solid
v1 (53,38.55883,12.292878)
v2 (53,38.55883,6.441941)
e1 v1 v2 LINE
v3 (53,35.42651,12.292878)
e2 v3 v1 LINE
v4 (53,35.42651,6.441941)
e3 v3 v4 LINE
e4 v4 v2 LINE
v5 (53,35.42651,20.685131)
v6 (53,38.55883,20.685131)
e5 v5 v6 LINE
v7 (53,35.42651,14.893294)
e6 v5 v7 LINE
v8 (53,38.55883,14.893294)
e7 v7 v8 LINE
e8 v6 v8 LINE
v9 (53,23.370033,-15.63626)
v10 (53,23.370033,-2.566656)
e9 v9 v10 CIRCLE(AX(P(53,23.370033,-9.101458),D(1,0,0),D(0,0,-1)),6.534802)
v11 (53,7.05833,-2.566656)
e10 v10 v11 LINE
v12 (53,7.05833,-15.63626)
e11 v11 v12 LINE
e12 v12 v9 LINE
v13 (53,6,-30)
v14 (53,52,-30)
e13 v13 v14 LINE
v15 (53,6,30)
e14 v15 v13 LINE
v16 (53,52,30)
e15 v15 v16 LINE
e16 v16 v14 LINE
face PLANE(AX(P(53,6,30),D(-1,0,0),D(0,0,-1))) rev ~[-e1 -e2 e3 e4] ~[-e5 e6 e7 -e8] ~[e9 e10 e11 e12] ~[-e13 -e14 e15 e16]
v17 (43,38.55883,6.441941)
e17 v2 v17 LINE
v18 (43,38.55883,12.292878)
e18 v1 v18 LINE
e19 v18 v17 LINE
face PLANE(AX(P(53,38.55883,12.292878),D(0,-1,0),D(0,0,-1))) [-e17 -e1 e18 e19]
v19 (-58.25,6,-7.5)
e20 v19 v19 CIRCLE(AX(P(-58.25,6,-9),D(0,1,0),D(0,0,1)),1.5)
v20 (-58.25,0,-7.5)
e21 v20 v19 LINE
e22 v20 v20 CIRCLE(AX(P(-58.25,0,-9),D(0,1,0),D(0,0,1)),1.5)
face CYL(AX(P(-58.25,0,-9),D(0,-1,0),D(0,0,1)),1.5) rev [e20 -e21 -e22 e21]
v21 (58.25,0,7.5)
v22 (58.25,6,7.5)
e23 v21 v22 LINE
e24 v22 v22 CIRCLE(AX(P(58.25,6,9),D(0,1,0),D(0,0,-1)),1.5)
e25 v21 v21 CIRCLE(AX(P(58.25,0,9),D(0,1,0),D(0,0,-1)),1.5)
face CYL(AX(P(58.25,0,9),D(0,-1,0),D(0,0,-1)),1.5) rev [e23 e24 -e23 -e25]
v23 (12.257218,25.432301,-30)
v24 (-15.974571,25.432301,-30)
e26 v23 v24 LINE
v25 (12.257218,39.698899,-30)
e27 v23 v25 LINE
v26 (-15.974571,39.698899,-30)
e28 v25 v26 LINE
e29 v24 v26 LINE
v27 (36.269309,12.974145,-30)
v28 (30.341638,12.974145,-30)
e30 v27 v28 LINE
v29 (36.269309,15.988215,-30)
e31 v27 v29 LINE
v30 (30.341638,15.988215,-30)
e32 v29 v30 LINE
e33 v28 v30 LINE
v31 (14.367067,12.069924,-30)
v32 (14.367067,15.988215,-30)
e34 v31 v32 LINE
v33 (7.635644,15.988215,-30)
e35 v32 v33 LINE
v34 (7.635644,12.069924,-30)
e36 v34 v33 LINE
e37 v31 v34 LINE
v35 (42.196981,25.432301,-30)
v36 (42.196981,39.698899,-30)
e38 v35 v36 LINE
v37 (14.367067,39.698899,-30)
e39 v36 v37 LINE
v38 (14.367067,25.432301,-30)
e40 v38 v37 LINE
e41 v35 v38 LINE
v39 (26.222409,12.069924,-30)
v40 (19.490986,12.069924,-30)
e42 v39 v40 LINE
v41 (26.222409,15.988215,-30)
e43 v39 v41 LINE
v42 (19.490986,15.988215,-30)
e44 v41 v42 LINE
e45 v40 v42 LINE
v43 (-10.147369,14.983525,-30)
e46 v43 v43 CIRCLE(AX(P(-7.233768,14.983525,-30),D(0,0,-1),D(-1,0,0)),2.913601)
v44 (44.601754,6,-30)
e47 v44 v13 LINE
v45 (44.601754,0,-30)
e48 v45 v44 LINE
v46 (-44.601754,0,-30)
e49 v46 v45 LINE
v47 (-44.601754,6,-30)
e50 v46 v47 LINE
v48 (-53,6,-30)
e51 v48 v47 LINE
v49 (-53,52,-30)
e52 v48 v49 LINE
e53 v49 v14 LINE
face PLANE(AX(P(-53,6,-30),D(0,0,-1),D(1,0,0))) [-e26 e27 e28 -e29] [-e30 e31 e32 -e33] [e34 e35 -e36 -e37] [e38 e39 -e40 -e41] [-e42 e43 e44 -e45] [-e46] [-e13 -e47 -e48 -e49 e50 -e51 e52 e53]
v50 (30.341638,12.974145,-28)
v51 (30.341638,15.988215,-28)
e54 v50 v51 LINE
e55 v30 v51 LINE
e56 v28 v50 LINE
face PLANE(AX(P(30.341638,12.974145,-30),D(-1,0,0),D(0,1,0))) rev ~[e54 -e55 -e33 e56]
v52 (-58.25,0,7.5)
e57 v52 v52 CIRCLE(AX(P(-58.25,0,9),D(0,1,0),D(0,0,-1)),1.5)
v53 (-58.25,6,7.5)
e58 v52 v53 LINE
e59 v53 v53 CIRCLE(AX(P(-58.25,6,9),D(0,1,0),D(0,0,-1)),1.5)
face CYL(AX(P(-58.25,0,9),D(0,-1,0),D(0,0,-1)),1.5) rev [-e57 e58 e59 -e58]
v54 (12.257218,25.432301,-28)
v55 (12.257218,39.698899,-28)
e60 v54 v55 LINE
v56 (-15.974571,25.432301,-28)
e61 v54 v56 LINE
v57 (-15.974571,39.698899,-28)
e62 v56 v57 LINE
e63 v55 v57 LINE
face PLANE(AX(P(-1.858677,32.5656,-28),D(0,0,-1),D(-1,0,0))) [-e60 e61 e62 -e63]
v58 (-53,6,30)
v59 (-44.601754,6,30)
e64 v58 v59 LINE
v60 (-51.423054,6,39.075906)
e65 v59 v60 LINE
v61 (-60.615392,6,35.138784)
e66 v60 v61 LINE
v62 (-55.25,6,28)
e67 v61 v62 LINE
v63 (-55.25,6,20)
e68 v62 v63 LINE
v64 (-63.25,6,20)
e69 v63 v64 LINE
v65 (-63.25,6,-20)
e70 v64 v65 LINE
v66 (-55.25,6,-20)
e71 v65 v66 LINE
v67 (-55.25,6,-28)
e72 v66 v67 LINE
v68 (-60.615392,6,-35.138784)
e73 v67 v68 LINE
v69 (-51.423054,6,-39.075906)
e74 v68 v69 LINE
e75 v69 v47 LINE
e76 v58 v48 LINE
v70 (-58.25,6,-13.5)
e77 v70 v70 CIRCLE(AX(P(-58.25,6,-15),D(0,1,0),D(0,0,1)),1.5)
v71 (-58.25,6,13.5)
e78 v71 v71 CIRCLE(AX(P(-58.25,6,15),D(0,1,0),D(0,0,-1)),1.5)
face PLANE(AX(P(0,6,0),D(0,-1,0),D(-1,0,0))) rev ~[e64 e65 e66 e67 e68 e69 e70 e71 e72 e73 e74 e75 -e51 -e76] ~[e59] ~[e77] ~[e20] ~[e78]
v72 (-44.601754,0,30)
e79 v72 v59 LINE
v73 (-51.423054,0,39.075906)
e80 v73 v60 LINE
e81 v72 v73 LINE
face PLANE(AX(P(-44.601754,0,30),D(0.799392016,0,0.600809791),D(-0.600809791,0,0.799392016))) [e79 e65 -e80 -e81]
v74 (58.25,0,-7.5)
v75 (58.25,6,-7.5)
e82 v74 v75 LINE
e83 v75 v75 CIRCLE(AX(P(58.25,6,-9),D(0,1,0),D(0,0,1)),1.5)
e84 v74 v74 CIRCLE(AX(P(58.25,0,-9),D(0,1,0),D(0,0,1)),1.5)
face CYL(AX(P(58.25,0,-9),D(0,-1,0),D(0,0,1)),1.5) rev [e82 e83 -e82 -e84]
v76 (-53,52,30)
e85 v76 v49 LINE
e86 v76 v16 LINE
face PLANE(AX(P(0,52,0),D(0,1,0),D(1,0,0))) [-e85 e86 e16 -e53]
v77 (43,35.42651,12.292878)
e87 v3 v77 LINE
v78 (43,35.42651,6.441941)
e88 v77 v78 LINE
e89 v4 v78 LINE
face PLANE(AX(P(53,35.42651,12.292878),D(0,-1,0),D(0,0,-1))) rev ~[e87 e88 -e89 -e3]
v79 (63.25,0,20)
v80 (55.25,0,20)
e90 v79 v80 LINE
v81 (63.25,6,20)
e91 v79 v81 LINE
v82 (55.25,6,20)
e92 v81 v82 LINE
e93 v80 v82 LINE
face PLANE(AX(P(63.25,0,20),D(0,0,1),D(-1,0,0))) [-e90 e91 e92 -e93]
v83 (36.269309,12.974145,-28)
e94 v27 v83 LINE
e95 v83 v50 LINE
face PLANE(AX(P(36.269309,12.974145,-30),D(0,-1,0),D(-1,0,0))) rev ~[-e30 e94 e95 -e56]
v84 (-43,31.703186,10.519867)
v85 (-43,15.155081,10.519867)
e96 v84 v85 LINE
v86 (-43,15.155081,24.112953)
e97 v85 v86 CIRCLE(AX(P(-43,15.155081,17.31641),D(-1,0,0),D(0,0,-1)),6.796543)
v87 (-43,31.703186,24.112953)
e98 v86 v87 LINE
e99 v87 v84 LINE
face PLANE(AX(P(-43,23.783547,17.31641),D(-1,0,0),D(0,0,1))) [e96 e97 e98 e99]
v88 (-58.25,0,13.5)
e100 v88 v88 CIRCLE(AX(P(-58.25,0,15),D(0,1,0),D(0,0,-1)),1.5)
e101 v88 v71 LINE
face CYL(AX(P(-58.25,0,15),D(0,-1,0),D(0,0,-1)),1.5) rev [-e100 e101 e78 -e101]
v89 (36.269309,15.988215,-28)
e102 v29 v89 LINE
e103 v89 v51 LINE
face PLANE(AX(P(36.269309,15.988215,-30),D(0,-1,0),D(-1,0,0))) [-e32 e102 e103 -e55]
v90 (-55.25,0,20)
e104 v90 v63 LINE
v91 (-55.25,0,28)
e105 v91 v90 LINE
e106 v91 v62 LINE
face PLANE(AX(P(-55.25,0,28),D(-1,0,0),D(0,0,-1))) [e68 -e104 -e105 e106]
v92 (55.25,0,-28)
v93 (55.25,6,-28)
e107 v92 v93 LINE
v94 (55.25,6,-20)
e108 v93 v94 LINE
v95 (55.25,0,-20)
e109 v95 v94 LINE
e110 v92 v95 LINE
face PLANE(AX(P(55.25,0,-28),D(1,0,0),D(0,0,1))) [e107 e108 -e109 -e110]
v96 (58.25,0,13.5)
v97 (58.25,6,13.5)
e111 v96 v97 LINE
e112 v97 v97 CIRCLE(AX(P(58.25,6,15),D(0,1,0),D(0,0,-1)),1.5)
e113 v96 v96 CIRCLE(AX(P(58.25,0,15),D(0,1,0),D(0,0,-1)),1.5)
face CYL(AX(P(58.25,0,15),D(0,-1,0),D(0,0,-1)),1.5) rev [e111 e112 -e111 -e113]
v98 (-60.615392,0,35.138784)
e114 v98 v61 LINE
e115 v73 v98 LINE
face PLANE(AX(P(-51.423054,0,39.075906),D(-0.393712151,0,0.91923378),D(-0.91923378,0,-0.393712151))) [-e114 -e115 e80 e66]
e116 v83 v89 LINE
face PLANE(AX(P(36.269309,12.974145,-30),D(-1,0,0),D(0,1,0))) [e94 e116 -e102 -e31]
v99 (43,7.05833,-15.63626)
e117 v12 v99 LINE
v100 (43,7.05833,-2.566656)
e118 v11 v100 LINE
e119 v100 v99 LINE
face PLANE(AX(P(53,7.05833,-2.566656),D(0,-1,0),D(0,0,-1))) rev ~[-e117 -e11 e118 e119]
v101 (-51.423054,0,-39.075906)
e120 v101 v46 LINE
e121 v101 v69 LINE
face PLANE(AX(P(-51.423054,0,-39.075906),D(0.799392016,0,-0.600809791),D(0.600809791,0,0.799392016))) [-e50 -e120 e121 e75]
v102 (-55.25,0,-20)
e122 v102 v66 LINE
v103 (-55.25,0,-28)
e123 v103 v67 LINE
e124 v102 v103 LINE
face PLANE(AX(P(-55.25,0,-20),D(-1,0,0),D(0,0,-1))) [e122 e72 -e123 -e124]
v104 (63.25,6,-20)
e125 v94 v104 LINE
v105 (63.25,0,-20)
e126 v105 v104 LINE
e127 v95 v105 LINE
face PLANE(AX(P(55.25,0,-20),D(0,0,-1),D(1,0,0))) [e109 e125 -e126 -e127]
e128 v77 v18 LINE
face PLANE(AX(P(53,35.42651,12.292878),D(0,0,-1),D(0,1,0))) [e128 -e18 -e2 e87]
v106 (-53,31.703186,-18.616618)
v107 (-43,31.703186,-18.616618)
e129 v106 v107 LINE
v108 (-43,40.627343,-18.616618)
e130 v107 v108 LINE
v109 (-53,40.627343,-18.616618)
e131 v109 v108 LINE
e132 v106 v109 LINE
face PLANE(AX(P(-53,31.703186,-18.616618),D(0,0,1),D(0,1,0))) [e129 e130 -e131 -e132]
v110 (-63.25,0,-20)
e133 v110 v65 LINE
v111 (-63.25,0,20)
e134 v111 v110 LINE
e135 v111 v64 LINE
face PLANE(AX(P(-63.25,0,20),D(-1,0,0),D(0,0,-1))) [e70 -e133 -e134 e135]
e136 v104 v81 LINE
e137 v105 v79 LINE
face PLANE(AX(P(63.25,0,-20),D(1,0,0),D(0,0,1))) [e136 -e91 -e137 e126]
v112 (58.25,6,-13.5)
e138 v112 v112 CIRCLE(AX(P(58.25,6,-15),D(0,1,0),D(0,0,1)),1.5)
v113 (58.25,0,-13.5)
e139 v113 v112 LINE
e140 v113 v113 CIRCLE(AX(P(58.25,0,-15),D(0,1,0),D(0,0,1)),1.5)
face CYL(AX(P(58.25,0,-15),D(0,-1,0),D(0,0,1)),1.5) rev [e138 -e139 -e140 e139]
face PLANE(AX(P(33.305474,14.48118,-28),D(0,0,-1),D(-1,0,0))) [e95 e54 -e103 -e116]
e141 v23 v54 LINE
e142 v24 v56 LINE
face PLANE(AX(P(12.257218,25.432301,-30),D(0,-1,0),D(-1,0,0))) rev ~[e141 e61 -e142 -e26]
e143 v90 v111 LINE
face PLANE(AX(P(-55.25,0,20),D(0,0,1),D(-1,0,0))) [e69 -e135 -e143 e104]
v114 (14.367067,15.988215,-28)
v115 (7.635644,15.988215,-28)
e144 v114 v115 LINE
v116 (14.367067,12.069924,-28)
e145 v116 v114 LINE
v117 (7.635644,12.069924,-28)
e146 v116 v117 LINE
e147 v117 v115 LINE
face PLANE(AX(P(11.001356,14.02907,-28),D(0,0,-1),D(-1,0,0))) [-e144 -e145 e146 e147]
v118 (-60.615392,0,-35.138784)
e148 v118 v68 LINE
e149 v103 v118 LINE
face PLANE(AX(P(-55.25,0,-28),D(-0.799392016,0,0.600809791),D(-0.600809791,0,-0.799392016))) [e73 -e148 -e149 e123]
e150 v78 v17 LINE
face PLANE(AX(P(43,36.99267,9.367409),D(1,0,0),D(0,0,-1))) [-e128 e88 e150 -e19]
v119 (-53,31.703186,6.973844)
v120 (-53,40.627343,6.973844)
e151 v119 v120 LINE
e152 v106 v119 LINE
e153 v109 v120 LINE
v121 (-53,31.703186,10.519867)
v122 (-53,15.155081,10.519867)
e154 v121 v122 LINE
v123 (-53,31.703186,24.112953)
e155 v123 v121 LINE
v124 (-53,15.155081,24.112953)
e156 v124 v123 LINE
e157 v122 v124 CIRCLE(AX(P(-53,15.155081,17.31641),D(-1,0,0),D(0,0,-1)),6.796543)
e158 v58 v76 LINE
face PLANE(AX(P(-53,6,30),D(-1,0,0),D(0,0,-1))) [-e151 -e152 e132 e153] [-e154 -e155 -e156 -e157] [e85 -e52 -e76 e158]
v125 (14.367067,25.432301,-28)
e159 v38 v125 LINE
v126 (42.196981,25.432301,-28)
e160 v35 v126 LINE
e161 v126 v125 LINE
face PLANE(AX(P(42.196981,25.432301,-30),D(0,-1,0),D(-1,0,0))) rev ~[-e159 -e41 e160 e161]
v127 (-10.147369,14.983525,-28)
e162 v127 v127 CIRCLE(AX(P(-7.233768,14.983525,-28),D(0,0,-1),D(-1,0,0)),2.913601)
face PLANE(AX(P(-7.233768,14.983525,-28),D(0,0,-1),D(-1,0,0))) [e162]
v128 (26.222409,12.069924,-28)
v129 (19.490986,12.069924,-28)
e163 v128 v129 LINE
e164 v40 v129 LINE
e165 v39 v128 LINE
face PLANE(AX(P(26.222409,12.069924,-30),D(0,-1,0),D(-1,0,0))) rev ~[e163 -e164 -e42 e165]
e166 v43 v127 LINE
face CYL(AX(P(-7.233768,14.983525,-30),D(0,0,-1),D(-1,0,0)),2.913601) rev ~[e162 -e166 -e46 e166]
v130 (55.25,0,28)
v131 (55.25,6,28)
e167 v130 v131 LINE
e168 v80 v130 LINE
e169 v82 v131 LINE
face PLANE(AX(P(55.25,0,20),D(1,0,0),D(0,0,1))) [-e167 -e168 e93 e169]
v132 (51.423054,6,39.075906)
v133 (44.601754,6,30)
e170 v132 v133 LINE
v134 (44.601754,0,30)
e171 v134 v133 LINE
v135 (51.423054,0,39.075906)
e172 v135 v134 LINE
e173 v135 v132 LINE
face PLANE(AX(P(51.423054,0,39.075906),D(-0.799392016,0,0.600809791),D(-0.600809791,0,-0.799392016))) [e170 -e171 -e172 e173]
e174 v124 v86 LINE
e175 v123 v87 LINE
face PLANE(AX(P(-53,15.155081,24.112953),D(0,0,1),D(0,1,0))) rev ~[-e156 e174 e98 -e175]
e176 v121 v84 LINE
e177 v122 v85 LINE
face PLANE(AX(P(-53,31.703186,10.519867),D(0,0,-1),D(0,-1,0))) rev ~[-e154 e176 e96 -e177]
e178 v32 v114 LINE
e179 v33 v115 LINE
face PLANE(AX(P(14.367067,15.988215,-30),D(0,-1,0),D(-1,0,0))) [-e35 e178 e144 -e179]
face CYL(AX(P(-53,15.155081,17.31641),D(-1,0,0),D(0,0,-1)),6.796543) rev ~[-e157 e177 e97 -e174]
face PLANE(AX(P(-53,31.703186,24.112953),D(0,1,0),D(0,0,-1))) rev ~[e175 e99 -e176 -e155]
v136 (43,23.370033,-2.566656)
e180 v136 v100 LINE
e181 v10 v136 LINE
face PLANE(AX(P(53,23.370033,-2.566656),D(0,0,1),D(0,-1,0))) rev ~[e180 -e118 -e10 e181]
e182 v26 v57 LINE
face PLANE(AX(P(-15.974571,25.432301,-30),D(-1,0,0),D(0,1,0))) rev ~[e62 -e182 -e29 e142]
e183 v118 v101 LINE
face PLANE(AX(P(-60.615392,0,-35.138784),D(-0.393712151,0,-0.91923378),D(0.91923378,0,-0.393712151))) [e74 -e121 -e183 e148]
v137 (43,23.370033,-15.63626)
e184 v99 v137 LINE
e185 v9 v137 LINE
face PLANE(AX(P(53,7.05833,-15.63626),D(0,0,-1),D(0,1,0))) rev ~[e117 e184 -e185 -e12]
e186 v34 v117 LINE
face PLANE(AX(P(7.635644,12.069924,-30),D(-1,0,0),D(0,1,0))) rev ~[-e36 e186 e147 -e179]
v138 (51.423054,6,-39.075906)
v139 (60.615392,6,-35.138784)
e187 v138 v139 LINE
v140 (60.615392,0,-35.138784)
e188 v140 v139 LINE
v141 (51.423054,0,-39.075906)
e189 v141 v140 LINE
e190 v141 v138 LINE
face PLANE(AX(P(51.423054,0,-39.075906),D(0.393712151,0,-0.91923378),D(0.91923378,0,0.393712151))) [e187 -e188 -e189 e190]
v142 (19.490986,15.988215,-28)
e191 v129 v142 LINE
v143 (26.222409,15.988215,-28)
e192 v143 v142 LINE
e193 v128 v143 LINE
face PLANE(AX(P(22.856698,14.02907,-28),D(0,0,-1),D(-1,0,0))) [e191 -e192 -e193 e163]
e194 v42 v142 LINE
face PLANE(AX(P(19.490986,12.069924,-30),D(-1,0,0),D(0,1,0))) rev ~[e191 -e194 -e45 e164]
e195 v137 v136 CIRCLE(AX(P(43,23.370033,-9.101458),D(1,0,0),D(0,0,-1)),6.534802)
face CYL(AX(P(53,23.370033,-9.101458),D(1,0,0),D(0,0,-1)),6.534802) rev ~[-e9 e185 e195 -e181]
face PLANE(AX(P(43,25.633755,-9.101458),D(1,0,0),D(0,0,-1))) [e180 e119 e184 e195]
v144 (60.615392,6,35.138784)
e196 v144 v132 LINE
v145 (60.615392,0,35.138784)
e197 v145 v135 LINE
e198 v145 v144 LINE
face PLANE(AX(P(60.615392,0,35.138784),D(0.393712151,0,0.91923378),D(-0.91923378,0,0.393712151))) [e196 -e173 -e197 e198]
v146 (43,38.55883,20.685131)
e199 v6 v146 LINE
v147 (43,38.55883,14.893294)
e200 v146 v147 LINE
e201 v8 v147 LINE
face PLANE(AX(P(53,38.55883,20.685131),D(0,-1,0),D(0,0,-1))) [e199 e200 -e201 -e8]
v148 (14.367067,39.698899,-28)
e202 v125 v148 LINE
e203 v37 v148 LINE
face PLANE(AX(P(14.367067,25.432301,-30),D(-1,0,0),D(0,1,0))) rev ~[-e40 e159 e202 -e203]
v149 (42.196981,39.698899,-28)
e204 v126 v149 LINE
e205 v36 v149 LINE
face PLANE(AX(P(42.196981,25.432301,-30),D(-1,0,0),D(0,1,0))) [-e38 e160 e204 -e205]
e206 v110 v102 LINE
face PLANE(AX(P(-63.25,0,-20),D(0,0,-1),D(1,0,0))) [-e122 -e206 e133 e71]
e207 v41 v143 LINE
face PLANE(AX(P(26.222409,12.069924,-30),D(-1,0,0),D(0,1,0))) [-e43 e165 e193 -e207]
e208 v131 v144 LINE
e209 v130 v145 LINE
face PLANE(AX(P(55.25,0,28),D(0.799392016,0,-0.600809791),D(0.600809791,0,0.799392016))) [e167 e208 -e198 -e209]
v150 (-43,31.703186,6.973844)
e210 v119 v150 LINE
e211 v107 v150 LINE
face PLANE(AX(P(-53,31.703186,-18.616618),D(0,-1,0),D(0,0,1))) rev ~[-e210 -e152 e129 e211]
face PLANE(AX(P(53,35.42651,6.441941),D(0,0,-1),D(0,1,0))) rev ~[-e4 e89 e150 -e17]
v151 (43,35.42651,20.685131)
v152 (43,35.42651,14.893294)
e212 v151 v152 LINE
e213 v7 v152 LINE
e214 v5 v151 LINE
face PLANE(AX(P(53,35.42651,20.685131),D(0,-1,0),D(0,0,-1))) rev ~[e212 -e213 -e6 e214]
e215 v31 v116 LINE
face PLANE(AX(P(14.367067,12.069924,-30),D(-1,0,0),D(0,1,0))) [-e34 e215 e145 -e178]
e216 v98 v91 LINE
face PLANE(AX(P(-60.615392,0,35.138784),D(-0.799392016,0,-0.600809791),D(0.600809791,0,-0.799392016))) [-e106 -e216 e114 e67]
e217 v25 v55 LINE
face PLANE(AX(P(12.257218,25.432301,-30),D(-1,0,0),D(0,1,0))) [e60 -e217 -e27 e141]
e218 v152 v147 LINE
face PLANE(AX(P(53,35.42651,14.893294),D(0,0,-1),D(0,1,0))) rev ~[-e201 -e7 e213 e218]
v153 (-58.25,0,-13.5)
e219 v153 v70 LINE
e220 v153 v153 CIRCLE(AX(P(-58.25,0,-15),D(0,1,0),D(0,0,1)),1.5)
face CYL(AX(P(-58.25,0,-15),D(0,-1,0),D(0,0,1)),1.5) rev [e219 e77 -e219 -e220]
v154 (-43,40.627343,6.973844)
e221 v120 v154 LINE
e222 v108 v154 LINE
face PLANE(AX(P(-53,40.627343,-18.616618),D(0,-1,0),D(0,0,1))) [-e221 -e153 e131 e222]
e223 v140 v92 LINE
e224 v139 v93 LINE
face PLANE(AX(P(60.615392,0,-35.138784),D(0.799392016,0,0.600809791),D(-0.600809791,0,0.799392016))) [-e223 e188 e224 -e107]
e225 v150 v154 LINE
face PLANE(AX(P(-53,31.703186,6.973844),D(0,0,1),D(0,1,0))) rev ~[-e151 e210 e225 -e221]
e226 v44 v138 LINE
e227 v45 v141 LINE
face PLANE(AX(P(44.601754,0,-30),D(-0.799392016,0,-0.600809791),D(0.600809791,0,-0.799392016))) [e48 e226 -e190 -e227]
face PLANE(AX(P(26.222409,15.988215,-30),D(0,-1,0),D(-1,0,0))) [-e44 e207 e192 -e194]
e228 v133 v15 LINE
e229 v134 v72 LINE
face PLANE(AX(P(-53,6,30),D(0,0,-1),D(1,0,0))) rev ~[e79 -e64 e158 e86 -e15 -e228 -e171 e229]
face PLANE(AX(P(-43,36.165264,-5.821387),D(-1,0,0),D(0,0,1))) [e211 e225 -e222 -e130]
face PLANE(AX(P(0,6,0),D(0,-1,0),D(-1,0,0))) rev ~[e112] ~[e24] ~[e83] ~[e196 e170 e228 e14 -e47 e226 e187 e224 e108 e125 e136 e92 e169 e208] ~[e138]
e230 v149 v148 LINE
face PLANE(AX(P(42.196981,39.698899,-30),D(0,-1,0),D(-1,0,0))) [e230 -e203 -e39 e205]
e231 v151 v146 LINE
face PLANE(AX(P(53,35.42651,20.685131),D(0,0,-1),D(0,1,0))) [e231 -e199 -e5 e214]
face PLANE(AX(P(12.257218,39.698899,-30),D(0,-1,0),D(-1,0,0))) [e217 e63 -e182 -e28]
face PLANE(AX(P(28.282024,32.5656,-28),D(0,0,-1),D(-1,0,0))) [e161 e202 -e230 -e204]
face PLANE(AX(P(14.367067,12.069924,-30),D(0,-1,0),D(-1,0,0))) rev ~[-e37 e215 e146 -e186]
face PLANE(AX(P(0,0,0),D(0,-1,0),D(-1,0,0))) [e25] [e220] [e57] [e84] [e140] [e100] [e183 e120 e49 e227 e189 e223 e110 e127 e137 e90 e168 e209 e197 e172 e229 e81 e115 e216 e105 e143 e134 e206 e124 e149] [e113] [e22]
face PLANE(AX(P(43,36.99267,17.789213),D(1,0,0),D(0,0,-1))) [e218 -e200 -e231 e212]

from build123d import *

# Parameters (mm, degrees)
SKETCH_1_R          = 1.5
EXTRUDE_1_DEPTH     = 6
SKETCH_2_W          = 106
SKETCH_2_H          = 60
EXTRUDE_2_DEPTH     = 46
SKETCH_3_R          = 2.913601035
SKETCH_3_W          = 27.829913336
SKETCH_3_H          = 14.266598172
SKETCH_3_W_2        = 28.231789341
SKETCH_3_W_3        = 5.927671071
SKETCH_3_H_2        = 3.014070036
SKETCH_3_W_4        = 6.731423082
SKETCH_3_H_3        = 3.918291047
CUT_EXTRUDE_1_DEPTH = 2
SKETCH_4_W          = 5.850937101
SKETCH_4_H          = 3.132319863
SKETCH_4_W_2        = 5.791836726
CUT_EXTRUDE_2_DEPTH = 10
SKETCH_5_W          = 25.590462272
SKETCH_5_H          = 8.924156589
CUT_EXTRUDE_3_DEPTH = 10


with BuildPart() as part:
    # 草图1 → 凸台-拉伸1 (new body)
    with BuildSketch(Plane(origin=(0, 0, 0), x_dir=(1, 0, 0), z_dir=(0, 1, 0))):
        Polygon((44.601753779, -30), (-44.601753779, -30), (-51.423054046, -39.075905643), (-60.615391847, -35.138784137), (-55.25, -28), (-55.25, -20), (-63.25, -20), (-63.25, 20), (-55.25, 20), (-55.25, 28), (-60.615391847, 35.138784137), (-51.423054046, 39.075905643), (-44.601753779, 30), (44.601753779, 30), (51.423054046, 39.075905643), (60.615391847, 35.138784137), (55.25, 28), (55.25, 20), (63.25, 20), (63.25, -20), (55.25, -20), (55.25, -28), (60.615391847, -35.138784137), (51.423054046, -39.075905643), align=None)
        with Locations(Location((58.25, 15, 0), (0, 0, 270))):
            Circle(SKETCH_1_R, mode=Mode.SUBTRACT)
        with Locations(Location((-58.25, 15, 0), (0, 0, 270))):
            Circle(SKETCH_1_R, mode=Mode.SUBTRACT)
        with Locations(Location((58.25, 9, 0), (0, 0, 270))):
            Circle(SKETCH_1_R, mode=Mode.SUBTRACT)
        with Locations(Location((-58.25, 9, 0), (0, 0, 270))):
            Circle(SKETCH_1_R, mode=Mode.SUBTRACT)
        with Locations(Location((58.25, -9, 0), (0, 0, 90))):
            Circle(SKETCH_1_R, mode=Mode.SUBTRACT)
        with Locations(Location((58.25, -15, 0), (0, 0, 90))):
            Circle(SKETCH_1_R, mode=Mode.SUBTRACT)
        with Locations(Location((-58.25, -9, 0), (0, 0, 90))):
            Circle(SKETCH_1_R, mode=Mode.SUBTRACT)
        with Locations(Location((-58.25, -15, 0), (0, 0, 90))):
            Circle(SKETCH_1_R, mode=Mode.SUBTRACT)
    extrude(amount=EXTRUDE_1_DEPTH)

    # 草图2 → 凸台-拉伸2 (add)
    with BuildSketch(Plane(origin=(0, 6, 0), x_dir=(1, 0, 0), z_dir=(0, 1, 0))):
        Rectangle(SKETCH_2_W, SKETCH_2_H)
    extrude(amount=EXTRUDE_2_DEPTH)

    # 草图3 → 切除-拉伸1 (cut)
    with BuildSketch(Plane(origin=(0, 0, -30), x_dir=(-1, 0, 0), z_dir=(0, 0, -1))):
        with Locations((7.233768087, 14.983525058)):
            Circle(SKETCH_3_R)
        with Locations((-28.282023842, 32.56560027)):
            Rectangle(SKETCH_3_W, SKETCH_3_H)
        with Locations((1.858676522, 32.56560027)):
            Rectangle(SKETCH_3_W_2, SKETCH_3_H)
        with Locations((-33.305473902, 14.481180052)):
            Rectangle(SKETCH_3_W_3, SKETCH_3_H_2)
        with Locations((-22.856697776, 14.029069547)):
            Rectangle(SKETCH_3_W_4, SKETCH_3_H_3)
        with Locations((-11.001355633, 14.029069547)):
            Rectangle(SKETCH_3_W_4, SKETCH_3_H_3)
    extrude(amount=-CUT_EXTRUDE_1_DEPTH, mode=Mode.SUBTRACT)

    # 草图4 → 切除-拉伸2 (cut)
    with BuildSketch(Plane(origin=(53, 0, 0), x_dir=(0, 0, -1), z_dir=(1, 0, 0))):
        with BuildLine():
            ThreePointArc((15.636259672, 23.370033323), (9.101457713, 29.904835281), (2.566655755, 23.370033323))
            Line((2.566655755, 23.370033323), (15.636259672, 23.370033323))
        make_face()
        with BuildLine():
            Line((15.636259672, 23.370033323), (2.566655755, 23.370033323))
            ThreePointArc((2.566655755, 23.370033323), (9.101457713, 16.835231365), (15.636259672, 23.370033323))
        make_face()
        with BuildLine():
            ThreePointArc((15.636259672, 23.370033323), (9.101457713, 16.835231365), (2.566655755, 23.370033323))
            Line((2.566655755, 23.370033323), (2.566655755, 7.058329889))
            Line((2.566655755, 7.058329889), (15.636259672, 7.058329889))
            Line((15.636259672, 7.058329889), (15.636259672, 23.370033323))
        make_face()
        with Locations((-9.3674094, 36.992669706)):
            Rectangle(SKETCH_4_W, SKETCH_4_H)
        with Locations((-17.789212803, 36.992669706)):
            Rectangle(SKETCH_4_W_2, SKETCH_4_H)
    extrude(amount=-CUT_EXTRUDE_2_DEPTH, mode=Mode.SUBTRACT)

    # 草图5 → 切除-拉伸3 (cut)
    with BuildSketch(Plane.ZY.offset(53)):
        with BuildLine():
            Line((10.519866707, 31.703186164), (10.519866707, 15.155081231))
            ThreePointArc((10.519866707, 15.155081231), (17.316409805, 21.951624329), (24.112952903, 15.155081231))
            Line((24.112952903, 15.155081231), (24.112952903, 31.703186164))
            Line((24.112952903, 31.703186164), (10.519866707, 31.703186164))
        make_face()
        with BuildLine():
            ThreePointArc((24.112952903, 15.155081231), (17.316409805, 21.951624329), (10.519866707, 15.155081231))
            Line((10.519866707, 15.155081231), (24.112952903, 15.155081231))
        make_face()
        with BuildLine():
            Line((24.112952903, 15.155081231), (10.519866707, 15.155081231))
            ThreePointArc((10.519866707, 15.155081231), (17.316409805, 8.358538134), (24.112952903, 15.155081231))
        make_face()
        with Locations((-5.821386914, 36.165264459)):
            Rectangle(SKETCH_5_W, SKETCH_5_H)
    extrude(amount=-CUT_EXTRUDE_3_DEPTH, mode=Mode.SUBTRACT)


solid = part.part
